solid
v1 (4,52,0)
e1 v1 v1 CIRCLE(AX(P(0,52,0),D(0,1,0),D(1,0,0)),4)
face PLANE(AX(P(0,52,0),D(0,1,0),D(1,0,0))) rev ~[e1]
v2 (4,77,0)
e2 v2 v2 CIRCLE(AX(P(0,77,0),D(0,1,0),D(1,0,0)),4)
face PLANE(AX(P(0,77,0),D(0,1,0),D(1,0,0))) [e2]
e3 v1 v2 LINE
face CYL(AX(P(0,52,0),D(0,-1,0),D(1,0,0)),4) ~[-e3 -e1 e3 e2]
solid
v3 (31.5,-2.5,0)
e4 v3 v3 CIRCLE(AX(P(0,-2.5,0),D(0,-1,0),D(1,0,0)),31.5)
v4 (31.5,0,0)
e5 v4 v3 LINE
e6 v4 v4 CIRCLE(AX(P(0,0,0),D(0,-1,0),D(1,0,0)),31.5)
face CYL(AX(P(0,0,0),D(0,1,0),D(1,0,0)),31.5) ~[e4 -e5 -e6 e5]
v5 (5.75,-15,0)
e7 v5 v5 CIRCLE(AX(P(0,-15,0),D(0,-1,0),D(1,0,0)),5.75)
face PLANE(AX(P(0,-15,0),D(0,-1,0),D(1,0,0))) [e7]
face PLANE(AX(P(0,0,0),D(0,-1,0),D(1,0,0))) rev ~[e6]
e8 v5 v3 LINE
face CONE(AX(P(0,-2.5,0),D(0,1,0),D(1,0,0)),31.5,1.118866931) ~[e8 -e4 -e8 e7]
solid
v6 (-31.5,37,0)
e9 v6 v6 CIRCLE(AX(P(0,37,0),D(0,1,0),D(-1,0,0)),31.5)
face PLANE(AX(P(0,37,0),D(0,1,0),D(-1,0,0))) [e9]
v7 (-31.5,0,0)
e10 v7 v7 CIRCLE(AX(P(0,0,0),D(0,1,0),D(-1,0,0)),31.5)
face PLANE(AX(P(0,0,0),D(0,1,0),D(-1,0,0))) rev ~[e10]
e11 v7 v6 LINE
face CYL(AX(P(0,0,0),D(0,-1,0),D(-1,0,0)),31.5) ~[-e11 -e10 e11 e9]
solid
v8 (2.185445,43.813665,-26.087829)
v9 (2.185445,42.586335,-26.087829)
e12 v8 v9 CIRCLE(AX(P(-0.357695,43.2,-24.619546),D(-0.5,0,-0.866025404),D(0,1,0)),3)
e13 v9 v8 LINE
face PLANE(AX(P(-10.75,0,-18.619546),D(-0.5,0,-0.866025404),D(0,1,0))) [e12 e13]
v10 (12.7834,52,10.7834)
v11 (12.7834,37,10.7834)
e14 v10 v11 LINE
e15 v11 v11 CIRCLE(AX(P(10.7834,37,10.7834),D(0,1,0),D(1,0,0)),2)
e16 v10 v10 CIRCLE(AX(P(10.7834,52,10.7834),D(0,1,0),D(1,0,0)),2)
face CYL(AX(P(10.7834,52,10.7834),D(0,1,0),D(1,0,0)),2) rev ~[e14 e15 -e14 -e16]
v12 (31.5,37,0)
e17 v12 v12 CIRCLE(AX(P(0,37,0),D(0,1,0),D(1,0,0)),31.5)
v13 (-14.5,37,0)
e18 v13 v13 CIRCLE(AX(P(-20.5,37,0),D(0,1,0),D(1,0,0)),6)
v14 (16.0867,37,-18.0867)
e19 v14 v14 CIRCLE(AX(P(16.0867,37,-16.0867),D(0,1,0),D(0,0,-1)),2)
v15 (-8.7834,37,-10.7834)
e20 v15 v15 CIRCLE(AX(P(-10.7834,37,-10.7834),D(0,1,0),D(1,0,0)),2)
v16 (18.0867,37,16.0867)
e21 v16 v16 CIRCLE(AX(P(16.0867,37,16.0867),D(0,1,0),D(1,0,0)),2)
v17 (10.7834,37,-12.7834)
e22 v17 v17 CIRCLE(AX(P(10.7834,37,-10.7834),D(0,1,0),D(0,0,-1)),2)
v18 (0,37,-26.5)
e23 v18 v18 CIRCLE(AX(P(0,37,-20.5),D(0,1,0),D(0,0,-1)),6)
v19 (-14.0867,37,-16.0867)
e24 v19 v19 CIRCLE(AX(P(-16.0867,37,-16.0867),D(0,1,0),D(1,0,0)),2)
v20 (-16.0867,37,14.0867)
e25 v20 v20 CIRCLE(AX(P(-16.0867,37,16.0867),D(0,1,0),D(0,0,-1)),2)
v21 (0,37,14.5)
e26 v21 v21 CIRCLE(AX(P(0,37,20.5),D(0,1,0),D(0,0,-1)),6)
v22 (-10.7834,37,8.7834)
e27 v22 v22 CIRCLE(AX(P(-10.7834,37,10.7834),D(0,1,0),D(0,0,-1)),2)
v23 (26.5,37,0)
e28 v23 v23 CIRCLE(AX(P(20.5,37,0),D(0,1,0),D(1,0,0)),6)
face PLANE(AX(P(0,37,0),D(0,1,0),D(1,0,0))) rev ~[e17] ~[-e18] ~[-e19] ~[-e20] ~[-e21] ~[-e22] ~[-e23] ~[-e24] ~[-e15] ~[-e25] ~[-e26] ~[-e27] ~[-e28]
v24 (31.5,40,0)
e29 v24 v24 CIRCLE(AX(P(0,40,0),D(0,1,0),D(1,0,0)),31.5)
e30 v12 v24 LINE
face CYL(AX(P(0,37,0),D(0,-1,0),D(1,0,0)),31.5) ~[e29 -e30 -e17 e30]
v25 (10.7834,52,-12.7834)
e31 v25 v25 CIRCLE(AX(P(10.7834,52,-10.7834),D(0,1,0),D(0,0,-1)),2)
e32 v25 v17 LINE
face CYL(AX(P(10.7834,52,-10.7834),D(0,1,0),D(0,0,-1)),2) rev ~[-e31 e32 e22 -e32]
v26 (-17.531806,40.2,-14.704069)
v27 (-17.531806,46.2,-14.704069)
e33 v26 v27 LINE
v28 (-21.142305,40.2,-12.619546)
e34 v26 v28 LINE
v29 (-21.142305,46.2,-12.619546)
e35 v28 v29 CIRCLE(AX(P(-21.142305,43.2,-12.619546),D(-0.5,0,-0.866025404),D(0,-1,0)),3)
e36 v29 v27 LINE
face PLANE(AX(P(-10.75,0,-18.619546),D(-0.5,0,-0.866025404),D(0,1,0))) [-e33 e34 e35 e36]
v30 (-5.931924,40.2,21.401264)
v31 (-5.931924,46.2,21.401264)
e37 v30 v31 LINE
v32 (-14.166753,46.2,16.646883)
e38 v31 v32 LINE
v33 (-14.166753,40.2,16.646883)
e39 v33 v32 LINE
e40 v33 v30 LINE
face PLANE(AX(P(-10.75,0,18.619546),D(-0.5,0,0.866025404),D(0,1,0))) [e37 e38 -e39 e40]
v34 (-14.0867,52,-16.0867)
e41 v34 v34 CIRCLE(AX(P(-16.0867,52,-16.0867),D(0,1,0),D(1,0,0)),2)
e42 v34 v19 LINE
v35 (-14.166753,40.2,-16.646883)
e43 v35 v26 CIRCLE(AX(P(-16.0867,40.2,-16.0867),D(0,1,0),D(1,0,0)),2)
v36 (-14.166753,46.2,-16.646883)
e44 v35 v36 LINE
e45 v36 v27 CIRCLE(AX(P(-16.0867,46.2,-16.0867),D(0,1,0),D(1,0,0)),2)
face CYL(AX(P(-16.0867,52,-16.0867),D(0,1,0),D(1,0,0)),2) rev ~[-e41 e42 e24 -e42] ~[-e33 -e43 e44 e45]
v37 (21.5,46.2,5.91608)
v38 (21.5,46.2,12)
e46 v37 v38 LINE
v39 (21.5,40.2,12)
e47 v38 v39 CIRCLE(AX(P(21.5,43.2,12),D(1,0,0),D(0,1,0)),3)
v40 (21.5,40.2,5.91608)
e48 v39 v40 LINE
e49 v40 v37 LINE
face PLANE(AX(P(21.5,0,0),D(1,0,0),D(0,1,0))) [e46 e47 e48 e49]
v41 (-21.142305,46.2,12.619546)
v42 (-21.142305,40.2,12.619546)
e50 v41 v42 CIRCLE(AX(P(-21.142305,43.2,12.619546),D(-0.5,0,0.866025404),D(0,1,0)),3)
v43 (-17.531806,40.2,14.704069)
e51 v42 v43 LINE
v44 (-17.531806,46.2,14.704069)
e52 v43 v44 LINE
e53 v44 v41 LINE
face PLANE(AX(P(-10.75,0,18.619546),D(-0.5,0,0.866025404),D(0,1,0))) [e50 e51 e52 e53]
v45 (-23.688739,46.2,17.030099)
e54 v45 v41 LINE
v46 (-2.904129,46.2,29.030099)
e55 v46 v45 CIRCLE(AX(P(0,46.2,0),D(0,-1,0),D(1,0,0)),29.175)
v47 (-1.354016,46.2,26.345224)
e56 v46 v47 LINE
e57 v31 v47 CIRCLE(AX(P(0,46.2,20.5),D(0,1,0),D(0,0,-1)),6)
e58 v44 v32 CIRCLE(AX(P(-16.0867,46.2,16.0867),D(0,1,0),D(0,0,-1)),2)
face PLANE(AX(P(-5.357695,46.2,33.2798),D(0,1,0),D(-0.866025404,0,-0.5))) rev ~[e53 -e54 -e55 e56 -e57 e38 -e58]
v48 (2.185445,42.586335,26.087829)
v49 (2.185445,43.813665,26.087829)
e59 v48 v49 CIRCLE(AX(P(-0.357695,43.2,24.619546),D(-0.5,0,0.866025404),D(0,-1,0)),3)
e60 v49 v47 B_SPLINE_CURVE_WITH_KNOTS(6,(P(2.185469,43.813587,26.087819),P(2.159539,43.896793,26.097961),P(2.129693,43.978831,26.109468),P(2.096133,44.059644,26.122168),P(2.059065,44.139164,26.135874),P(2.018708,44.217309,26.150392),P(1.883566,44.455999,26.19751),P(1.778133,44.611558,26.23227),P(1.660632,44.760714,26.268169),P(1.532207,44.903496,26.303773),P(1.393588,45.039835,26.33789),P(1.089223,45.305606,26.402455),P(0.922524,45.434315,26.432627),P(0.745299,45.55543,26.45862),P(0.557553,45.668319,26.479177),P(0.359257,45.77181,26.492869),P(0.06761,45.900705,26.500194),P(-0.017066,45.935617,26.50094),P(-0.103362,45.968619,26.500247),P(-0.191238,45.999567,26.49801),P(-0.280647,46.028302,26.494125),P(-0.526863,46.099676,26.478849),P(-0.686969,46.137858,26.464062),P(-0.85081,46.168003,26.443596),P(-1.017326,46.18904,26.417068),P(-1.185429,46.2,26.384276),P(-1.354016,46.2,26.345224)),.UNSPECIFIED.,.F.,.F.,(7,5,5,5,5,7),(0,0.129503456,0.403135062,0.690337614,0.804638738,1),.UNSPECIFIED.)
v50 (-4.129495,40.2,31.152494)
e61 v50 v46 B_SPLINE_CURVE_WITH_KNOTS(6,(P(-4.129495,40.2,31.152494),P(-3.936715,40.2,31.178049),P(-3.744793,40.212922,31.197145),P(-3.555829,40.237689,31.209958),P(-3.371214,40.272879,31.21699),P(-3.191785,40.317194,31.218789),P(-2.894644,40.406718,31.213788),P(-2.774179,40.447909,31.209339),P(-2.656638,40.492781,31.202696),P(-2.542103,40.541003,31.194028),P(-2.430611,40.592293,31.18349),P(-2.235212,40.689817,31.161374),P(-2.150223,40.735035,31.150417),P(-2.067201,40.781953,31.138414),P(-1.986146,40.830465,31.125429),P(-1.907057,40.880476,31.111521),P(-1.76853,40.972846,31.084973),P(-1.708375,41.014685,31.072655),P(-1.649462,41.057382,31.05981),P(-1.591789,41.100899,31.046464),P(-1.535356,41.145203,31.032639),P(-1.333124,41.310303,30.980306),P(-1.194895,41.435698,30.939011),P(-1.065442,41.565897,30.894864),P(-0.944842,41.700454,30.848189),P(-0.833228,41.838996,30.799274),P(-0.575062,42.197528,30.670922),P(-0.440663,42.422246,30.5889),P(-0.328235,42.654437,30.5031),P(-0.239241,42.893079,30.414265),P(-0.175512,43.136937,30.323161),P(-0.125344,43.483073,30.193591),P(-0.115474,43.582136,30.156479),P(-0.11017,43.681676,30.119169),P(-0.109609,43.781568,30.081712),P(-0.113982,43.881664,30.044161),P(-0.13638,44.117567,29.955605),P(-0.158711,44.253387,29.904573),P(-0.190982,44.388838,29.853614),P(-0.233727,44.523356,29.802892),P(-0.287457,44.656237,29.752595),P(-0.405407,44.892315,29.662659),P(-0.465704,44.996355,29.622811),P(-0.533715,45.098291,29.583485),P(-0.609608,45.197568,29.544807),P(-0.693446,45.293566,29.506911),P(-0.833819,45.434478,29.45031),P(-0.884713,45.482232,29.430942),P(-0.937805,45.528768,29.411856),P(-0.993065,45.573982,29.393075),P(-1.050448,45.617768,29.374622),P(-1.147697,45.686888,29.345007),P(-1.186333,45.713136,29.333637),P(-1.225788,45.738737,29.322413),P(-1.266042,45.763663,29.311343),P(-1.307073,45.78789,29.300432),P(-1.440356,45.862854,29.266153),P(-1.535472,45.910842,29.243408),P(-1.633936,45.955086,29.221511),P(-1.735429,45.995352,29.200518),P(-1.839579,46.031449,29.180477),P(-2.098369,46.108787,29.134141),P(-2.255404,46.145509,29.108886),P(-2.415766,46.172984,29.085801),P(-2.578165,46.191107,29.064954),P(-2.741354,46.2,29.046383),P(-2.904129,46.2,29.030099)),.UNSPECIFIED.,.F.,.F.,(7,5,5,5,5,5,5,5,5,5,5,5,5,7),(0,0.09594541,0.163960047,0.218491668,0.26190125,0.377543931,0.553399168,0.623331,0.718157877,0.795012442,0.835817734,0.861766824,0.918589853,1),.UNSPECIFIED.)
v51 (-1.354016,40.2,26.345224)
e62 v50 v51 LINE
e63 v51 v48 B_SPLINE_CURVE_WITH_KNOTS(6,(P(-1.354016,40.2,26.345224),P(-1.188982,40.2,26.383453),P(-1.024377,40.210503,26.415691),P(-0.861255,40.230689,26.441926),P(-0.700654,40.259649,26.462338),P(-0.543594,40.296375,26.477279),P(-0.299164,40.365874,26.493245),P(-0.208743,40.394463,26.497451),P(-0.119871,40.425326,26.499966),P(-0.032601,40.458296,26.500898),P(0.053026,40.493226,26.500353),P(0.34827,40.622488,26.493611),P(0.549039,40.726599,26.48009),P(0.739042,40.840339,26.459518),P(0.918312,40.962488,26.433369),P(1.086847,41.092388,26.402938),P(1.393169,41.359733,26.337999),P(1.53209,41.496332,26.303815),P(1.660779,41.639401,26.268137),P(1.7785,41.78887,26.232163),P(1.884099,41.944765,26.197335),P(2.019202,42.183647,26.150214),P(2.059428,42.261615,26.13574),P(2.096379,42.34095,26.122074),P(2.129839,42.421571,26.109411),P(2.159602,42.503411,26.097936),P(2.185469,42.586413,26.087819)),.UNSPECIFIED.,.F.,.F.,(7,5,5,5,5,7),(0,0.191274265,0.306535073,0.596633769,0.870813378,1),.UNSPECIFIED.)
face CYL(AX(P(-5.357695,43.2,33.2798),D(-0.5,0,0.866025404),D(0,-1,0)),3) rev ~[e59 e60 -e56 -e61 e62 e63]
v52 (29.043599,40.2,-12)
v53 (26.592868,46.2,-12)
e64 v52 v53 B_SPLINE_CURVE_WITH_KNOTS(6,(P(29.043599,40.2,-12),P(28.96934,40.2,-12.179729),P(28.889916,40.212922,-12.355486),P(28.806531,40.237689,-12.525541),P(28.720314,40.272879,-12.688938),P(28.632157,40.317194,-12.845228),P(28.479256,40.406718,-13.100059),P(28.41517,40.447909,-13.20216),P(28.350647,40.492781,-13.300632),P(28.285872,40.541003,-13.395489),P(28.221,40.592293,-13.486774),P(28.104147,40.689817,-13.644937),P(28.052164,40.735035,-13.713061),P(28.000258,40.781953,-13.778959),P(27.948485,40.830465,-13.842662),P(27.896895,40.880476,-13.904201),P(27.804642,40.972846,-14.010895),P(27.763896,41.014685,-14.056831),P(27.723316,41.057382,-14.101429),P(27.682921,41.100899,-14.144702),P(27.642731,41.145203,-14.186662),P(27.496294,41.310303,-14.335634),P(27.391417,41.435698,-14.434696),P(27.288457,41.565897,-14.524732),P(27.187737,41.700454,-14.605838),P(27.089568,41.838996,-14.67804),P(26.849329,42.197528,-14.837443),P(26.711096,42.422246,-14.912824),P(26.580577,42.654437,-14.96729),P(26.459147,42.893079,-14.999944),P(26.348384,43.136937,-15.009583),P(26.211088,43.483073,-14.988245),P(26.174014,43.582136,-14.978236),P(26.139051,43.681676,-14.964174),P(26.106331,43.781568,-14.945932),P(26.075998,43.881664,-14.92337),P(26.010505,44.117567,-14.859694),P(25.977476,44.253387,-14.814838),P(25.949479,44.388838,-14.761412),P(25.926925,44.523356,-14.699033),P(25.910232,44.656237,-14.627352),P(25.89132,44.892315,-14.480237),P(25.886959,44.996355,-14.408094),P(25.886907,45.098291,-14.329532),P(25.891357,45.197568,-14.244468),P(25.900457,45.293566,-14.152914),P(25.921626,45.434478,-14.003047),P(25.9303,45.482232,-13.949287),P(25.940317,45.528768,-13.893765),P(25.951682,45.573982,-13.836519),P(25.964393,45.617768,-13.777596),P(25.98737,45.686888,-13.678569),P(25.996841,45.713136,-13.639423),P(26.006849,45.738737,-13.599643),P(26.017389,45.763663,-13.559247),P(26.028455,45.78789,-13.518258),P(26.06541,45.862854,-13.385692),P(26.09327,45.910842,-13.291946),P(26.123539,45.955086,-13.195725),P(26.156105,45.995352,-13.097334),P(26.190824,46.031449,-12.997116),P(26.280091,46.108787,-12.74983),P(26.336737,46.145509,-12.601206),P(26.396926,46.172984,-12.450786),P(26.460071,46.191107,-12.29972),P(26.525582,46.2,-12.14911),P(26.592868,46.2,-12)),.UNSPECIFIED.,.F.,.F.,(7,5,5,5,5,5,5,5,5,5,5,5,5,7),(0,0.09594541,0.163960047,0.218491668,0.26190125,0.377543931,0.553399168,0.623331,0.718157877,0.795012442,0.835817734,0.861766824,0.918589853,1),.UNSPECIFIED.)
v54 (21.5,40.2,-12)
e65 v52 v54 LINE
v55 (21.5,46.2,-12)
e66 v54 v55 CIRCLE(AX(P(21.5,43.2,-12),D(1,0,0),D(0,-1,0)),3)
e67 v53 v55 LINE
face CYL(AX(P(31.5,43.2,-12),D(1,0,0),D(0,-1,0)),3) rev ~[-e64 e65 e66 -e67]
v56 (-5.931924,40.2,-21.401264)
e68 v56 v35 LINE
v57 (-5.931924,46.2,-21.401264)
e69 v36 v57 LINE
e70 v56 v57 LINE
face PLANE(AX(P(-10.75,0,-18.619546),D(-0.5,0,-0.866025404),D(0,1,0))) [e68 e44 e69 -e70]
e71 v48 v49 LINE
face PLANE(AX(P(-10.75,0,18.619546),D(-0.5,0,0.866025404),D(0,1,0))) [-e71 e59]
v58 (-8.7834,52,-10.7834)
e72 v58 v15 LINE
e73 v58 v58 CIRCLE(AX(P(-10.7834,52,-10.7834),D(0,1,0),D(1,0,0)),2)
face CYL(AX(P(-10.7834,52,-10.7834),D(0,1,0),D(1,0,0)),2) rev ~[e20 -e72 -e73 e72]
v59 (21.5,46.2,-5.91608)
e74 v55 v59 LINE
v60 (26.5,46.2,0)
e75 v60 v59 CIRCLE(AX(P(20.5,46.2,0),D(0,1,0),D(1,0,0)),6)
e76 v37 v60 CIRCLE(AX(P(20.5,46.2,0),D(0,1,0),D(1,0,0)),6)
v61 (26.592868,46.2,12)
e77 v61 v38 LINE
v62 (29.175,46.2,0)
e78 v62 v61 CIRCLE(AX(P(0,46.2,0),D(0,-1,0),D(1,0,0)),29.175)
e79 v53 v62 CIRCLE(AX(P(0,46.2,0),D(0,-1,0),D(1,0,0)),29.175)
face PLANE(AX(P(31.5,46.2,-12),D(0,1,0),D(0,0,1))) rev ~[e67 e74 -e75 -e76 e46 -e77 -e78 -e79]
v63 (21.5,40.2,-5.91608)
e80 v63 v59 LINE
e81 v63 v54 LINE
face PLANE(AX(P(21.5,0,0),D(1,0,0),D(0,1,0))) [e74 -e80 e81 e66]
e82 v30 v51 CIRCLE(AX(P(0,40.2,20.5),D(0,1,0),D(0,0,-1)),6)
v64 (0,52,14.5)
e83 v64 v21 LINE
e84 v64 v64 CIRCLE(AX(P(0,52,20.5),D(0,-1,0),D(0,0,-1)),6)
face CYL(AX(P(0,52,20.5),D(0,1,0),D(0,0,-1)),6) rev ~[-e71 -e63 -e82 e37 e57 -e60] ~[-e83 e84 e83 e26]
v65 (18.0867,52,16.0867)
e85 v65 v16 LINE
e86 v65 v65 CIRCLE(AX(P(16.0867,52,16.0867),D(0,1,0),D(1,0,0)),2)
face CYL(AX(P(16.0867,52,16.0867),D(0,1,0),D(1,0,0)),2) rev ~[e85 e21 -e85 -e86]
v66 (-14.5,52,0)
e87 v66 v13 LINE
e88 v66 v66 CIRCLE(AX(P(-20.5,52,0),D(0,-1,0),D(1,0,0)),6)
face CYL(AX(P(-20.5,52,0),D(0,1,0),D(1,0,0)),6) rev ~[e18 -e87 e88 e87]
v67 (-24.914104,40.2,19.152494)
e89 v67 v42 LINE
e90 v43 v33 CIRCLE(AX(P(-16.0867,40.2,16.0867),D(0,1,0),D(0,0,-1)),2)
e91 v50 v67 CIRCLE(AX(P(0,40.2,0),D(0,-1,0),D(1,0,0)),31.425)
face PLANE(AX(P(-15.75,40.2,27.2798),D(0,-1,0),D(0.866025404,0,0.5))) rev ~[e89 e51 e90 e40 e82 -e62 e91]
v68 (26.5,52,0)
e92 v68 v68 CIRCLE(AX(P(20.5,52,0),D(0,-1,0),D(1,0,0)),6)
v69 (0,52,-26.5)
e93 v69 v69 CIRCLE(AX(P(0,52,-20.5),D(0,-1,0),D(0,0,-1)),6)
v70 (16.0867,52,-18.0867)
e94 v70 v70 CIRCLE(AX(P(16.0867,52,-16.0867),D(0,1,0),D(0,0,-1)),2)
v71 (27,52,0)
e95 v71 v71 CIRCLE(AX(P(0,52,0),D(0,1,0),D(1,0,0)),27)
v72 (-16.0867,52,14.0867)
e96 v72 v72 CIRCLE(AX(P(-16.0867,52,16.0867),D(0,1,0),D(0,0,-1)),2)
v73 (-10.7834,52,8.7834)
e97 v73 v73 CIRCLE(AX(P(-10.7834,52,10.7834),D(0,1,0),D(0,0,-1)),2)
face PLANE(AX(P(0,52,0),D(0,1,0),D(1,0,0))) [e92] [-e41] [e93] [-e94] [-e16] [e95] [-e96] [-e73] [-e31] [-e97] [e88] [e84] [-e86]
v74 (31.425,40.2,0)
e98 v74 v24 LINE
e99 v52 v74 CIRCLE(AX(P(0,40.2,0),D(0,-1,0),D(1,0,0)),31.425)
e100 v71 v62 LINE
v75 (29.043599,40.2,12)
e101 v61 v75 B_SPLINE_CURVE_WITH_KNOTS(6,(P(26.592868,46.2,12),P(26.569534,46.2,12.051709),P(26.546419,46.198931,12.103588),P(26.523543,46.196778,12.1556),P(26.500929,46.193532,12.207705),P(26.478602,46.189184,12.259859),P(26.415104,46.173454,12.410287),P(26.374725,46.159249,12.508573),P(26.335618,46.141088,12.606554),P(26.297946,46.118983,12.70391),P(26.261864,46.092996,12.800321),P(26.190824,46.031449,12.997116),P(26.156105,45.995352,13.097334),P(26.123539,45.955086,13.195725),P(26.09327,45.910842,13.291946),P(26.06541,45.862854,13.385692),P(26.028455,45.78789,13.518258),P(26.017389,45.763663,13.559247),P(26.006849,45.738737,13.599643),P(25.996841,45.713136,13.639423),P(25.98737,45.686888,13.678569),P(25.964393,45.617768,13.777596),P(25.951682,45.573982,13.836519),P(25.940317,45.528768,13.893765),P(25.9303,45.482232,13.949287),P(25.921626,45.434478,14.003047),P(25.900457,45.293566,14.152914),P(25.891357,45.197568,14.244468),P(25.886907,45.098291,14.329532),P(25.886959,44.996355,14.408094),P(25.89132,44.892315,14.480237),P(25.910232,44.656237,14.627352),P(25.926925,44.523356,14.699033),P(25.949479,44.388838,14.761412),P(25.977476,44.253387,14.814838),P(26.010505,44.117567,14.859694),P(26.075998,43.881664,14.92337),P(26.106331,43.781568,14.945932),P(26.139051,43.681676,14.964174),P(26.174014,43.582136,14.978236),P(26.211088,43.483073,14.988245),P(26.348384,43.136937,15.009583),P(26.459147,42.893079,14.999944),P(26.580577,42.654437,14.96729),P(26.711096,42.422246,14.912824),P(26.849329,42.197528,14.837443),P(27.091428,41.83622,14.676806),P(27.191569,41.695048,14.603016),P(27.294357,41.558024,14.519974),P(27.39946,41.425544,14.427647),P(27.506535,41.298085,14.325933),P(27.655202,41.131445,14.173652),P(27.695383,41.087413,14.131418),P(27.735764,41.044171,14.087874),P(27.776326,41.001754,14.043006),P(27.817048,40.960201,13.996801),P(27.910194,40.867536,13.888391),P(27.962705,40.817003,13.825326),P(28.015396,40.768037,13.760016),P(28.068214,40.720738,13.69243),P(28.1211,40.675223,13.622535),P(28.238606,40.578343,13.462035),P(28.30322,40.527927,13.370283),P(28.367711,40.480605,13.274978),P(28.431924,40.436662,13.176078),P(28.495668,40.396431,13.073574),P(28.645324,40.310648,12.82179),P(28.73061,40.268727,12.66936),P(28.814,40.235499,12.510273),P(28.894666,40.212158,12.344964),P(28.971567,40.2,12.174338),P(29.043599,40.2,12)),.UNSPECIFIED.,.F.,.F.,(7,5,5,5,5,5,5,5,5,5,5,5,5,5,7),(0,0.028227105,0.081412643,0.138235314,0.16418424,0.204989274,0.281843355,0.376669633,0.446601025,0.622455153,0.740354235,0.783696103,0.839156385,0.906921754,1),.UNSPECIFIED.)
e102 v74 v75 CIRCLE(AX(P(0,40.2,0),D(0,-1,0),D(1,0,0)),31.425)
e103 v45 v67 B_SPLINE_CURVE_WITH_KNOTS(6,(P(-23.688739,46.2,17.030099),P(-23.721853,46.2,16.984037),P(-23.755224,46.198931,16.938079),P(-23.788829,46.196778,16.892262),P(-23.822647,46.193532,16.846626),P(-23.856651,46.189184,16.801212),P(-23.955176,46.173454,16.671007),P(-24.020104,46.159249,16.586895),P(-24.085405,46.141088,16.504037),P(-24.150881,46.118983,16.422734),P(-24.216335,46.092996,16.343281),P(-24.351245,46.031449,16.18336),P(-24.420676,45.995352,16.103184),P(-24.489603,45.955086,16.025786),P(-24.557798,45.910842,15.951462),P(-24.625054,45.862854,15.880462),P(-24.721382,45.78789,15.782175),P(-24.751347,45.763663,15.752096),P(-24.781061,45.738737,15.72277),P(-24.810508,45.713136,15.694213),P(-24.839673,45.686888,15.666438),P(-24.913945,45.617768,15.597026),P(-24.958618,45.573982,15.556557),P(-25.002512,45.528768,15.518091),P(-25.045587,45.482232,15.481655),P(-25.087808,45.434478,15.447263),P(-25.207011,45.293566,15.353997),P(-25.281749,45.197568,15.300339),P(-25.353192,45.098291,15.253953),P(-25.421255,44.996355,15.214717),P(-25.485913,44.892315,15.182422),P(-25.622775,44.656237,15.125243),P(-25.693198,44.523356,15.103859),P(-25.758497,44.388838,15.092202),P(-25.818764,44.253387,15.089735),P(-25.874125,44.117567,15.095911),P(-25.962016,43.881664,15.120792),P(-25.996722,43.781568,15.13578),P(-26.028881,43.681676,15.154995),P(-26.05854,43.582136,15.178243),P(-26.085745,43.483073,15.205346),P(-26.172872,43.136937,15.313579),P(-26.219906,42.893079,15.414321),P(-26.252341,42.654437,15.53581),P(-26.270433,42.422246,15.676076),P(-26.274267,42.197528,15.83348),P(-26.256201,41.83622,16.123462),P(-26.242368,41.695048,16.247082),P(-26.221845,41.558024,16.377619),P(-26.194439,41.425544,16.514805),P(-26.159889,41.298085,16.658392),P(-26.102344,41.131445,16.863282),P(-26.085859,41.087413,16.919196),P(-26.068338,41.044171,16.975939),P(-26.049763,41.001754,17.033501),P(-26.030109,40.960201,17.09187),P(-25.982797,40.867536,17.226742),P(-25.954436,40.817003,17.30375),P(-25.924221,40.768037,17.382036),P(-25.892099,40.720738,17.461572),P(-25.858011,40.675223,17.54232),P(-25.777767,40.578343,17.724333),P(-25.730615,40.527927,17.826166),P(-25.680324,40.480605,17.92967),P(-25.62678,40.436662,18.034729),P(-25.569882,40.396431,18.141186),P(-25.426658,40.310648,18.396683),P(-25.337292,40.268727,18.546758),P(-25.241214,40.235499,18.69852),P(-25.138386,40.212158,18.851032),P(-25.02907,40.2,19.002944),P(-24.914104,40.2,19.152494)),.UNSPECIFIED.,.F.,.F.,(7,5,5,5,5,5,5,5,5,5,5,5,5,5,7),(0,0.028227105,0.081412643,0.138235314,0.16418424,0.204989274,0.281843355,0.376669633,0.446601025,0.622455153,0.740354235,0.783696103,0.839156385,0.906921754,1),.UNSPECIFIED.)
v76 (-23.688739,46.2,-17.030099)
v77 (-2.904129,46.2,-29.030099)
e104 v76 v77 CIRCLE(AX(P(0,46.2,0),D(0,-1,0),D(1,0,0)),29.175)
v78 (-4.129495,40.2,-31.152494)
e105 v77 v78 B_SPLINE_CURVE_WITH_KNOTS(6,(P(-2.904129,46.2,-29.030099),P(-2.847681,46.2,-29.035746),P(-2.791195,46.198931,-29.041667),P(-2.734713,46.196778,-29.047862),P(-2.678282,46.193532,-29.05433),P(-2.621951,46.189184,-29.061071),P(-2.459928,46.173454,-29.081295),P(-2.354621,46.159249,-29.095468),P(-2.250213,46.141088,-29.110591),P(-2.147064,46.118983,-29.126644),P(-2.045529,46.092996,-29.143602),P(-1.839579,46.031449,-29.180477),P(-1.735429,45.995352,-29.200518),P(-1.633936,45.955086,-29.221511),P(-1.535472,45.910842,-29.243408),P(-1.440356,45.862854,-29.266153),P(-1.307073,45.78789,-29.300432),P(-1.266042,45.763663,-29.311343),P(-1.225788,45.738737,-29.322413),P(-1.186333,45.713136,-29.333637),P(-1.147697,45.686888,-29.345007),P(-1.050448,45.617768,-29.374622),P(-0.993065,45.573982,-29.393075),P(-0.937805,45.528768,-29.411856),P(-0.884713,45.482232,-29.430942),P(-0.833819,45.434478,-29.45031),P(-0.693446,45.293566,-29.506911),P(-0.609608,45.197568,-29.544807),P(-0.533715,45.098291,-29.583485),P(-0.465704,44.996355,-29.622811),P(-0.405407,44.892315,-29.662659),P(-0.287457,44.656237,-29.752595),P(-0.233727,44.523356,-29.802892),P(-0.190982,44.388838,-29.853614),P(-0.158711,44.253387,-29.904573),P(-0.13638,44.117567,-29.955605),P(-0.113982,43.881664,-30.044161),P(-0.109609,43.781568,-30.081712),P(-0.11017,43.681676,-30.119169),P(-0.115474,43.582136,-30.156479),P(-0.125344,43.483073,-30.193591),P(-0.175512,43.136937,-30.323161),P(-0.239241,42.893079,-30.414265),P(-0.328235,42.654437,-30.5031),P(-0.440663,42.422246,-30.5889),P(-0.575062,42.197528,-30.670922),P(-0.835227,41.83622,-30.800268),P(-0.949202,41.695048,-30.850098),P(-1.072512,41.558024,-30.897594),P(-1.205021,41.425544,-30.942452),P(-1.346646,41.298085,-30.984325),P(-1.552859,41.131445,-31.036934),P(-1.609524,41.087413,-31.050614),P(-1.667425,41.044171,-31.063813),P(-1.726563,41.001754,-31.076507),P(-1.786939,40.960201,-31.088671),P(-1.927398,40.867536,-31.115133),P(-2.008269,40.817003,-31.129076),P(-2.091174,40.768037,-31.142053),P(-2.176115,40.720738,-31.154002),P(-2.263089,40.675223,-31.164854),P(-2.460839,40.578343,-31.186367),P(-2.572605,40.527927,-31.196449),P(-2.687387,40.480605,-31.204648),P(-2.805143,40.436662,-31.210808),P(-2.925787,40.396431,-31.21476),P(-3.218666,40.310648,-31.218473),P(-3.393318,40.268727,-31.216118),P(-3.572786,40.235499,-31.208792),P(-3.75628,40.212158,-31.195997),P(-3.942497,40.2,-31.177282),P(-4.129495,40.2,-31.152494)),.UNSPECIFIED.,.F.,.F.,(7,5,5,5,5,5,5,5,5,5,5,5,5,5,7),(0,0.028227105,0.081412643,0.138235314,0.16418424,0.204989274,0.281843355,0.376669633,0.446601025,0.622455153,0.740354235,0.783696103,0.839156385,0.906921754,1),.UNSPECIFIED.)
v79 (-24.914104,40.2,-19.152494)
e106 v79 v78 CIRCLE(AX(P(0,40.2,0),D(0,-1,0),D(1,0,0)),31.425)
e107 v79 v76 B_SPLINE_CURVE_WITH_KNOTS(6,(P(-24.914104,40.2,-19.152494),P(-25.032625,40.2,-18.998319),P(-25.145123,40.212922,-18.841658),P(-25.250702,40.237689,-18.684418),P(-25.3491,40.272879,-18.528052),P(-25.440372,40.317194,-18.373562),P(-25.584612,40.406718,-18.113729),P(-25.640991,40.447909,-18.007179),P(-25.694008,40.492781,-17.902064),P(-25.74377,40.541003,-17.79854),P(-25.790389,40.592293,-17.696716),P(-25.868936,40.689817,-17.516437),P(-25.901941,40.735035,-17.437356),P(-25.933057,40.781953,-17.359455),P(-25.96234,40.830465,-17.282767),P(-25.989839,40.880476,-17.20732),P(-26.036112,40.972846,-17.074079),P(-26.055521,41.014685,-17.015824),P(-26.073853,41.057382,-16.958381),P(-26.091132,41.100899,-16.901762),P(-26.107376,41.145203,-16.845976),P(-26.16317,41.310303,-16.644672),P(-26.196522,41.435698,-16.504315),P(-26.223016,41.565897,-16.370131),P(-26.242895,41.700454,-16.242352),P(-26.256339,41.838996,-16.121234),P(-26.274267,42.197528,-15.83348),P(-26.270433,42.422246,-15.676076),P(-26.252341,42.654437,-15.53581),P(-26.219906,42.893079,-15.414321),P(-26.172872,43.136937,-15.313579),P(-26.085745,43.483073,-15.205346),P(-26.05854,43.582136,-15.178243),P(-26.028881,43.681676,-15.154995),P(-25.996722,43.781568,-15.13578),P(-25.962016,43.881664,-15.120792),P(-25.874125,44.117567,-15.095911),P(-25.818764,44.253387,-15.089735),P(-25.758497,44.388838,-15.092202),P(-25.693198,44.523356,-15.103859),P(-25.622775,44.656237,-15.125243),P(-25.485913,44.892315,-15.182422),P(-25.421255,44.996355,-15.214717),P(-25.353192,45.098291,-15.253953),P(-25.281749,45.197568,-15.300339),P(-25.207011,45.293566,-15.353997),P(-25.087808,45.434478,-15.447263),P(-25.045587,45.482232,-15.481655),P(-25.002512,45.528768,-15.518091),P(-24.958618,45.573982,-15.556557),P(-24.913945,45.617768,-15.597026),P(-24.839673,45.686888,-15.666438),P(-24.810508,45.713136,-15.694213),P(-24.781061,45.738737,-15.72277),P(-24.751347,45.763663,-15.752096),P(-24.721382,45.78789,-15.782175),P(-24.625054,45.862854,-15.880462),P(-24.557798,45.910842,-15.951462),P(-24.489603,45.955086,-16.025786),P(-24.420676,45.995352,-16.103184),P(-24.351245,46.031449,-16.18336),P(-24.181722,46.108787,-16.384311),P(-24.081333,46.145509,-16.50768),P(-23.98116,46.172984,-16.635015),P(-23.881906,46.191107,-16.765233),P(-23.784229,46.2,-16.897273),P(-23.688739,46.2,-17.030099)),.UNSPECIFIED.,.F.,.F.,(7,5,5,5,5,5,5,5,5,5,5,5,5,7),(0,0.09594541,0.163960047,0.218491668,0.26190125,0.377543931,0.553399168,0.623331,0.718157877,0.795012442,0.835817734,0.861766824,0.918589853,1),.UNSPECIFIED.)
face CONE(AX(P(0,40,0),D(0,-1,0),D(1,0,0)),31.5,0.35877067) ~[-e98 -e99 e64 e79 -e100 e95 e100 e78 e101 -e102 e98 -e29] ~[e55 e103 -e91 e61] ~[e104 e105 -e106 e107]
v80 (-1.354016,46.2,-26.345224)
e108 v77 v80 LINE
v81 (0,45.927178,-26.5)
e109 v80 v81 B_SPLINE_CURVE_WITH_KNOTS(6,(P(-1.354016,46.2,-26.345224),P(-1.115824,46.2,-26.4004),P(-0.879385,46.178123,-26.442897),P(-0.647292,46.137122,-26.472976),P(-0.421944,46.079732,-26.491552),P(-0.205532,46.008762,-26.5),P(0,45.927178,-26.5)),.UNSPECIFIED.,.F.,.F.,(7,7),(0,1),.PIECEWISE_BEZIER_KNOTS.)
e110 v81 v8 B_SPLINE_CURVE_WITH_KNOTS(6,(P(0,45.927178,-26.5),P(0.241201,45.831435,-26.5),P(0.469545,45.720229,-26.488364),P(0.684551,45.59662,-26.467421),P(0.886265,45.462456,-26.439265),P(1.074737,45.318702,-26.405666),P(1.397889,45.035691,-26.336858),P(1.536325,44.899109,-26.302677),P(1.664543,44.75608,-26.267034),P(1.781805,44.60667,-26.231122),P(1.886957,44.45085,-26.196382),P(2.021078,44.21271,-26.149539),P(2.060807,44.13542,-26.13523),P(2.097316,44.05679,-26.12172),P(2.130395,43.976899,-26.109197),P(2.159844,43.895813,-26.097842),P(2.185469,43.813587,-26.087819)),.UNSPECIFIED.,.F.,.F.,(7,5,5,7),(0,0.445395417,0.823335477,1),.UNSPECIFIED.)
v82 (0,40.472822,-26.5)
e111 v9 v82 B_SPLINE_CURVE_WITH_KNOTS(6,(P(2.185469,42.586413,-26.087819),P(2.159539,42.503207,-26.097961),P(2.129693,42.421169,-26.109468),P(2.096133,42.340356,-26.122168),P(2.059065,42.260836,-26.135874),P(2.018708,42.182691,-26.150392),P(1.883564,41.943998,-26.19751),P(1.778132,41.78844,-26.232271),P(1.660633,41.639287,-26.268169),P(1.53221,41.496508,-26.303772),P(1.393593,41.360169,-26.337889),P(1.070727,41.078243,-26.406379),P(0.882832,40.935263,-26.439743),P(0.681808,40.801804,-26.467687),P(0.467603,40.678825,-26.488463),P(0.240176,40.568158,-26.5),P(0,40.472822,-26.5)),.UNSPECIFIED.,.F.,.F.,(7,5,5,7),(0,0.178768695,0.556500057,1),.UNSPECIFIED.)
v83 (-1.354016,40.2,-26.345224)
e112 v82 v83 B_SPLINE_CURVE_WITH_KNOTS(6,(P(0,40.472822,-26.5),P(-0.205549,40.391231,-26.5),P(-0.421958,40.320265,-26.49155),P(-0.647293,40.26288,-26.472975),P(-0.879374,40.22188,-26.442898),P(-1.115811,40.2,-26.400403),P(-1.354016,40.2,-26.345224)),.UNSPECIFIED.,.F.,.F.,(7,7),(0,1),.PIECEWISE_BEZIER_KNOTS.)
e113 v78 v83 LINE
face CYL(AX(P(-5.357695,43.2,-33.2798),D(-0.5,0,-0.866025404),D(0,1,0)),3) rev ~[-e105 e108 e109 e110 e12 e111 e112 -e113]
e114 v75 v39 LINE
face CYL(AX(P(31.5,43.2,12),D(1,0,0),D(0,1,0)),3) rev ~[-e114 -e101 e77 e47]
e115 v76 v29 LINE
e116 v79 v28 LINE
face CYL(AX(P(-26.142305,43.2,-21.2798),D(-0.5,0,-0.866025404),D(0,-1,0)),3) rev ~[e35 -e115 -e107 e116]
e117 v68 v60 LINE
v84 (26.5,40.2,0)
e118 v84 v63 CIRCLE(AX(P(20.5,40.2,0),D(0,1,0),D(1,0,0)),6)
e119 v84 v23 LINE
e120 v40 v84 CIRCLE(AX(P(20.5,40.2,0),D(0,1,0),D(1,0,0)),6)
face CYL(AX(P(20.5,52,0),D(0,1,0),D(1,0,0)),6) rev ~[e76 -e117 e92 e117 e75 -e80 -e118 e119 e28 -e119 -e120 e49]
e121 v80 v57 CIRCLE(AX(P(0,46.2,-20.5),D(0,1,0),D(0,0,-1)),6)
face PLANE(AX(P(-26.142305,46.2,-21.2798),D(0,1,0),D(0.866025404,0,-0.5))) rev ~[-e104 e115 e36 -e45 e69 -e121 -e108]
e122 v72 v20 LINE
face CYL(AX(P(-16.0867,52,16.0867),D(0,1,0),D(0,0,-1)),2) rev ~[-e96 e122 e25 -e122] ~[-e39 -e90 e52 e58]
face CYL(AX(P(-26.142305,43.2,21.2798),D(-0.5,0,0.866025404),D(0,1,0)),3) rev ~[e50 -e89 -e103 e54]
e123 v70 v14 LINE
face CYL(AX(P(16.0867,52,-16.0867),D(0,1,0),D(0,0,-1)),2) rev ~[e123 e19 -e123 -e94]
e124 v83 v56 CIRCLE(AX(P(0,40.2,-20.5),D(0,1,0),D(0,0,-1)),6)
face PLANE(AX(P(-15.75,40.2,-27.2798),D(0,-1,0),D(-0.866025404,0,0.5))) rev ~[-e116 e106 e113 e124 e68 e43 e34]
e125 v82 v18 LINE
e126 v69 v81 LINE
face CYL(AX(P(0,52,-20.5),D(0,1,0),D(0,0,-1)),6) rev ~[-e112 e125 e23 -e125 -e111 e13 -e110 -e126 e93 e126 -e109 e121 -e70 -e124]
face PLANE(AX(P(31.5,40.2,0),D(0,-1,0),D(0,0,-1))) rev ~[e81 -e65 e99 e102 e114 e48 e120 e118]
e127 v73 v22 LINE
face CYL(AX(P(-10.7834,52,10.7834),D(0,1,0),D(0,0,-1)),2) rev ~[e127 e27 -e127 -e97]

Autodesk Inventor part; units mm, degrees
ref_plane "XZ Plane" through (0, 0, 0) normal (0, 1, 0) x (-1, 0, 0)
ref_plane "XY Plane" through (0, 0, 0) normal (0, 0, 1) x (1, 0, 0)
sketch "Sketch1" plane through (0, 0, 0) normal (0, 1, 0) x (-1, 0, 0)
  circle A0 centre (0, 0) radius 31.5
  dimension "d0" = 63
extrude "Extrusion1" add sketch "Sketch1" along normal blind 37
sketch "Sketch2" plane through (0, 37, 0) normal (0, 1, 0) x (1, 0, 0)
  circle A0 centre (0, 0) radius 31.5
extrude "Extrusion2" add sketch "Sketch2" along normal blind 15 separate body
chamfer "Chamfer1" distance 4.5 distance2 12 1 edges at (-31.5, 52, 0) measured on face at (8.757, 52, -9.3296)
sketch "Sketch3" plane through (0, 52, 0) normal (0, 1, 0) x (1, 0, 0)
  circle A0 centre (-20.5, 0) radius 6
  line L0 (-44.1, 0) -> (44.1, 0) projected
  line L1 (0, -33.1999) -> (0, 39.3545) construction
  circle A1 centre (20.5, 0) radius 6
  line L2 (0, 53.8654) -> (0, -47.7108) projected
  point P0 (0, 0)
  dimension "d8" = 12
  dimension "d9" = 41
extrude "Extrusion3" cut sketch "Sketch3" against normal through all bodies 2
pattern_circular "Circular Pattern1" count 2 over 90 about axis through (0, -10, 0) along (0, 1, 0) of "Extrusion3" bodies 2
sketch "Sketch4" plane through (0, 52, 0) normal (0, 1, 0) x (1, 0, 0)
  line L0 (0, 0) -> (-16.213, 16.213) construction
  line L1 (0, 0) -> (22.9287, 0) construction
  line L2 (0, 0) -> (-7.0412, -7.0412) construction
  circle A0 centre (-16.0867, 16.0867) radius 2
  circle A1 centre (-10.7834, 10.7834) radius 2
  line L3 (0, 0) -> (16.213, -16.213) construction
  circle A2 centre (16.0867, -16.0867) radius 2
  circle A3 centre (10.7834, -10.7834) radius 2
  dimension "d15" = 135
  dimension "d16" = 4
  dimension "d17" = 4
  dimension "d18" = 3.5
  dimension "d19" = 26.5
extrude "Extrusion4" cut sketch "Sketch4" against normal through all bodies 2
thread "Thread1" size "M4x0.7" class "6H" standard "ANSI Metric M Profile" full length
thread "Thread2" size "M4x0.7" class "6H" standard "ANSI Metric M Profile" full length
thread "Thread3" size "M4x0.7" class "6H" standard "ANSI Metric M Profile" full length
thread "Thread4" size "M4x0.7" class "6H" standard "ANSI Metric M Profile" full length
pattern_circular "Circular Pattern2" count 2 over 90 about axis through (0, -10, 0) along (0, 1, 0) of "Extrusion4" bodies 2
ref_plane "Work Plane1" through (31.5, 0, 0) normal (1, 0, 0) x (0, 1, 0)
sketch "Sketch5" plane through (31.5, 0, 0) normal (1, 0, 0) x (0, 1, 0)
  line L0 (43.2, -12) -> (43.2, 12) construction
  line L1 (46.2, -12) -> (46.2, 12)
  line L2 (40.2, 12) -> (40.2, -12)
  arc A0 (40.2, -12) -> (46.2, -12) centre (43.2, -12) ccw
  arc A1 (46.2, 12) -> (40.2, 12) centre (43.2, 12) ccw
  line L3 (52, 27) -> (52, -27) projected
  line L4 (-10.4, 0) -> (62.4, 0) projected
  point P0 (0, 0)
  point P1 (43.2, 0)
  dimension "d33" = 30
  dimension "d34" = 6
  dimension "d35" = 5.8
extrude "Extrusion5" cut sketch "Sketch5" against normal blind 10 bodies 2
pattern_circular "Circular Pattern3" count 3 over 360 about axis through (0, -10, 0) along (0, 1, 0) of "Extrusion5" bodies 2
sketch "Sketch6" plane through (0, 52, 0) normal (0, 1, 0) x (1, 0, 0)
  circle A0 centre (0, 0) radius 4
  dimension "d41" = 8
extrude "Extrusion6" add sketch "Sketch6" along normal blind 25 separate body
sketch "Sketch7" plane through (0, 0, 0) normal (0, -1, 0) x (1, 0, 0)
  circle A0 centre (0, 0) radius 31.5 projected
extrude "Extrusion7" add sketch "Sketch7" along normal blind 15 separate body
chamfer "Chamfer2" distance 25.75 distance2 12.5 1 edges at (-31.5, -15, 0) measured on face at (8.757, -15, 9.3296)
properties part number "KEDA_6364"
